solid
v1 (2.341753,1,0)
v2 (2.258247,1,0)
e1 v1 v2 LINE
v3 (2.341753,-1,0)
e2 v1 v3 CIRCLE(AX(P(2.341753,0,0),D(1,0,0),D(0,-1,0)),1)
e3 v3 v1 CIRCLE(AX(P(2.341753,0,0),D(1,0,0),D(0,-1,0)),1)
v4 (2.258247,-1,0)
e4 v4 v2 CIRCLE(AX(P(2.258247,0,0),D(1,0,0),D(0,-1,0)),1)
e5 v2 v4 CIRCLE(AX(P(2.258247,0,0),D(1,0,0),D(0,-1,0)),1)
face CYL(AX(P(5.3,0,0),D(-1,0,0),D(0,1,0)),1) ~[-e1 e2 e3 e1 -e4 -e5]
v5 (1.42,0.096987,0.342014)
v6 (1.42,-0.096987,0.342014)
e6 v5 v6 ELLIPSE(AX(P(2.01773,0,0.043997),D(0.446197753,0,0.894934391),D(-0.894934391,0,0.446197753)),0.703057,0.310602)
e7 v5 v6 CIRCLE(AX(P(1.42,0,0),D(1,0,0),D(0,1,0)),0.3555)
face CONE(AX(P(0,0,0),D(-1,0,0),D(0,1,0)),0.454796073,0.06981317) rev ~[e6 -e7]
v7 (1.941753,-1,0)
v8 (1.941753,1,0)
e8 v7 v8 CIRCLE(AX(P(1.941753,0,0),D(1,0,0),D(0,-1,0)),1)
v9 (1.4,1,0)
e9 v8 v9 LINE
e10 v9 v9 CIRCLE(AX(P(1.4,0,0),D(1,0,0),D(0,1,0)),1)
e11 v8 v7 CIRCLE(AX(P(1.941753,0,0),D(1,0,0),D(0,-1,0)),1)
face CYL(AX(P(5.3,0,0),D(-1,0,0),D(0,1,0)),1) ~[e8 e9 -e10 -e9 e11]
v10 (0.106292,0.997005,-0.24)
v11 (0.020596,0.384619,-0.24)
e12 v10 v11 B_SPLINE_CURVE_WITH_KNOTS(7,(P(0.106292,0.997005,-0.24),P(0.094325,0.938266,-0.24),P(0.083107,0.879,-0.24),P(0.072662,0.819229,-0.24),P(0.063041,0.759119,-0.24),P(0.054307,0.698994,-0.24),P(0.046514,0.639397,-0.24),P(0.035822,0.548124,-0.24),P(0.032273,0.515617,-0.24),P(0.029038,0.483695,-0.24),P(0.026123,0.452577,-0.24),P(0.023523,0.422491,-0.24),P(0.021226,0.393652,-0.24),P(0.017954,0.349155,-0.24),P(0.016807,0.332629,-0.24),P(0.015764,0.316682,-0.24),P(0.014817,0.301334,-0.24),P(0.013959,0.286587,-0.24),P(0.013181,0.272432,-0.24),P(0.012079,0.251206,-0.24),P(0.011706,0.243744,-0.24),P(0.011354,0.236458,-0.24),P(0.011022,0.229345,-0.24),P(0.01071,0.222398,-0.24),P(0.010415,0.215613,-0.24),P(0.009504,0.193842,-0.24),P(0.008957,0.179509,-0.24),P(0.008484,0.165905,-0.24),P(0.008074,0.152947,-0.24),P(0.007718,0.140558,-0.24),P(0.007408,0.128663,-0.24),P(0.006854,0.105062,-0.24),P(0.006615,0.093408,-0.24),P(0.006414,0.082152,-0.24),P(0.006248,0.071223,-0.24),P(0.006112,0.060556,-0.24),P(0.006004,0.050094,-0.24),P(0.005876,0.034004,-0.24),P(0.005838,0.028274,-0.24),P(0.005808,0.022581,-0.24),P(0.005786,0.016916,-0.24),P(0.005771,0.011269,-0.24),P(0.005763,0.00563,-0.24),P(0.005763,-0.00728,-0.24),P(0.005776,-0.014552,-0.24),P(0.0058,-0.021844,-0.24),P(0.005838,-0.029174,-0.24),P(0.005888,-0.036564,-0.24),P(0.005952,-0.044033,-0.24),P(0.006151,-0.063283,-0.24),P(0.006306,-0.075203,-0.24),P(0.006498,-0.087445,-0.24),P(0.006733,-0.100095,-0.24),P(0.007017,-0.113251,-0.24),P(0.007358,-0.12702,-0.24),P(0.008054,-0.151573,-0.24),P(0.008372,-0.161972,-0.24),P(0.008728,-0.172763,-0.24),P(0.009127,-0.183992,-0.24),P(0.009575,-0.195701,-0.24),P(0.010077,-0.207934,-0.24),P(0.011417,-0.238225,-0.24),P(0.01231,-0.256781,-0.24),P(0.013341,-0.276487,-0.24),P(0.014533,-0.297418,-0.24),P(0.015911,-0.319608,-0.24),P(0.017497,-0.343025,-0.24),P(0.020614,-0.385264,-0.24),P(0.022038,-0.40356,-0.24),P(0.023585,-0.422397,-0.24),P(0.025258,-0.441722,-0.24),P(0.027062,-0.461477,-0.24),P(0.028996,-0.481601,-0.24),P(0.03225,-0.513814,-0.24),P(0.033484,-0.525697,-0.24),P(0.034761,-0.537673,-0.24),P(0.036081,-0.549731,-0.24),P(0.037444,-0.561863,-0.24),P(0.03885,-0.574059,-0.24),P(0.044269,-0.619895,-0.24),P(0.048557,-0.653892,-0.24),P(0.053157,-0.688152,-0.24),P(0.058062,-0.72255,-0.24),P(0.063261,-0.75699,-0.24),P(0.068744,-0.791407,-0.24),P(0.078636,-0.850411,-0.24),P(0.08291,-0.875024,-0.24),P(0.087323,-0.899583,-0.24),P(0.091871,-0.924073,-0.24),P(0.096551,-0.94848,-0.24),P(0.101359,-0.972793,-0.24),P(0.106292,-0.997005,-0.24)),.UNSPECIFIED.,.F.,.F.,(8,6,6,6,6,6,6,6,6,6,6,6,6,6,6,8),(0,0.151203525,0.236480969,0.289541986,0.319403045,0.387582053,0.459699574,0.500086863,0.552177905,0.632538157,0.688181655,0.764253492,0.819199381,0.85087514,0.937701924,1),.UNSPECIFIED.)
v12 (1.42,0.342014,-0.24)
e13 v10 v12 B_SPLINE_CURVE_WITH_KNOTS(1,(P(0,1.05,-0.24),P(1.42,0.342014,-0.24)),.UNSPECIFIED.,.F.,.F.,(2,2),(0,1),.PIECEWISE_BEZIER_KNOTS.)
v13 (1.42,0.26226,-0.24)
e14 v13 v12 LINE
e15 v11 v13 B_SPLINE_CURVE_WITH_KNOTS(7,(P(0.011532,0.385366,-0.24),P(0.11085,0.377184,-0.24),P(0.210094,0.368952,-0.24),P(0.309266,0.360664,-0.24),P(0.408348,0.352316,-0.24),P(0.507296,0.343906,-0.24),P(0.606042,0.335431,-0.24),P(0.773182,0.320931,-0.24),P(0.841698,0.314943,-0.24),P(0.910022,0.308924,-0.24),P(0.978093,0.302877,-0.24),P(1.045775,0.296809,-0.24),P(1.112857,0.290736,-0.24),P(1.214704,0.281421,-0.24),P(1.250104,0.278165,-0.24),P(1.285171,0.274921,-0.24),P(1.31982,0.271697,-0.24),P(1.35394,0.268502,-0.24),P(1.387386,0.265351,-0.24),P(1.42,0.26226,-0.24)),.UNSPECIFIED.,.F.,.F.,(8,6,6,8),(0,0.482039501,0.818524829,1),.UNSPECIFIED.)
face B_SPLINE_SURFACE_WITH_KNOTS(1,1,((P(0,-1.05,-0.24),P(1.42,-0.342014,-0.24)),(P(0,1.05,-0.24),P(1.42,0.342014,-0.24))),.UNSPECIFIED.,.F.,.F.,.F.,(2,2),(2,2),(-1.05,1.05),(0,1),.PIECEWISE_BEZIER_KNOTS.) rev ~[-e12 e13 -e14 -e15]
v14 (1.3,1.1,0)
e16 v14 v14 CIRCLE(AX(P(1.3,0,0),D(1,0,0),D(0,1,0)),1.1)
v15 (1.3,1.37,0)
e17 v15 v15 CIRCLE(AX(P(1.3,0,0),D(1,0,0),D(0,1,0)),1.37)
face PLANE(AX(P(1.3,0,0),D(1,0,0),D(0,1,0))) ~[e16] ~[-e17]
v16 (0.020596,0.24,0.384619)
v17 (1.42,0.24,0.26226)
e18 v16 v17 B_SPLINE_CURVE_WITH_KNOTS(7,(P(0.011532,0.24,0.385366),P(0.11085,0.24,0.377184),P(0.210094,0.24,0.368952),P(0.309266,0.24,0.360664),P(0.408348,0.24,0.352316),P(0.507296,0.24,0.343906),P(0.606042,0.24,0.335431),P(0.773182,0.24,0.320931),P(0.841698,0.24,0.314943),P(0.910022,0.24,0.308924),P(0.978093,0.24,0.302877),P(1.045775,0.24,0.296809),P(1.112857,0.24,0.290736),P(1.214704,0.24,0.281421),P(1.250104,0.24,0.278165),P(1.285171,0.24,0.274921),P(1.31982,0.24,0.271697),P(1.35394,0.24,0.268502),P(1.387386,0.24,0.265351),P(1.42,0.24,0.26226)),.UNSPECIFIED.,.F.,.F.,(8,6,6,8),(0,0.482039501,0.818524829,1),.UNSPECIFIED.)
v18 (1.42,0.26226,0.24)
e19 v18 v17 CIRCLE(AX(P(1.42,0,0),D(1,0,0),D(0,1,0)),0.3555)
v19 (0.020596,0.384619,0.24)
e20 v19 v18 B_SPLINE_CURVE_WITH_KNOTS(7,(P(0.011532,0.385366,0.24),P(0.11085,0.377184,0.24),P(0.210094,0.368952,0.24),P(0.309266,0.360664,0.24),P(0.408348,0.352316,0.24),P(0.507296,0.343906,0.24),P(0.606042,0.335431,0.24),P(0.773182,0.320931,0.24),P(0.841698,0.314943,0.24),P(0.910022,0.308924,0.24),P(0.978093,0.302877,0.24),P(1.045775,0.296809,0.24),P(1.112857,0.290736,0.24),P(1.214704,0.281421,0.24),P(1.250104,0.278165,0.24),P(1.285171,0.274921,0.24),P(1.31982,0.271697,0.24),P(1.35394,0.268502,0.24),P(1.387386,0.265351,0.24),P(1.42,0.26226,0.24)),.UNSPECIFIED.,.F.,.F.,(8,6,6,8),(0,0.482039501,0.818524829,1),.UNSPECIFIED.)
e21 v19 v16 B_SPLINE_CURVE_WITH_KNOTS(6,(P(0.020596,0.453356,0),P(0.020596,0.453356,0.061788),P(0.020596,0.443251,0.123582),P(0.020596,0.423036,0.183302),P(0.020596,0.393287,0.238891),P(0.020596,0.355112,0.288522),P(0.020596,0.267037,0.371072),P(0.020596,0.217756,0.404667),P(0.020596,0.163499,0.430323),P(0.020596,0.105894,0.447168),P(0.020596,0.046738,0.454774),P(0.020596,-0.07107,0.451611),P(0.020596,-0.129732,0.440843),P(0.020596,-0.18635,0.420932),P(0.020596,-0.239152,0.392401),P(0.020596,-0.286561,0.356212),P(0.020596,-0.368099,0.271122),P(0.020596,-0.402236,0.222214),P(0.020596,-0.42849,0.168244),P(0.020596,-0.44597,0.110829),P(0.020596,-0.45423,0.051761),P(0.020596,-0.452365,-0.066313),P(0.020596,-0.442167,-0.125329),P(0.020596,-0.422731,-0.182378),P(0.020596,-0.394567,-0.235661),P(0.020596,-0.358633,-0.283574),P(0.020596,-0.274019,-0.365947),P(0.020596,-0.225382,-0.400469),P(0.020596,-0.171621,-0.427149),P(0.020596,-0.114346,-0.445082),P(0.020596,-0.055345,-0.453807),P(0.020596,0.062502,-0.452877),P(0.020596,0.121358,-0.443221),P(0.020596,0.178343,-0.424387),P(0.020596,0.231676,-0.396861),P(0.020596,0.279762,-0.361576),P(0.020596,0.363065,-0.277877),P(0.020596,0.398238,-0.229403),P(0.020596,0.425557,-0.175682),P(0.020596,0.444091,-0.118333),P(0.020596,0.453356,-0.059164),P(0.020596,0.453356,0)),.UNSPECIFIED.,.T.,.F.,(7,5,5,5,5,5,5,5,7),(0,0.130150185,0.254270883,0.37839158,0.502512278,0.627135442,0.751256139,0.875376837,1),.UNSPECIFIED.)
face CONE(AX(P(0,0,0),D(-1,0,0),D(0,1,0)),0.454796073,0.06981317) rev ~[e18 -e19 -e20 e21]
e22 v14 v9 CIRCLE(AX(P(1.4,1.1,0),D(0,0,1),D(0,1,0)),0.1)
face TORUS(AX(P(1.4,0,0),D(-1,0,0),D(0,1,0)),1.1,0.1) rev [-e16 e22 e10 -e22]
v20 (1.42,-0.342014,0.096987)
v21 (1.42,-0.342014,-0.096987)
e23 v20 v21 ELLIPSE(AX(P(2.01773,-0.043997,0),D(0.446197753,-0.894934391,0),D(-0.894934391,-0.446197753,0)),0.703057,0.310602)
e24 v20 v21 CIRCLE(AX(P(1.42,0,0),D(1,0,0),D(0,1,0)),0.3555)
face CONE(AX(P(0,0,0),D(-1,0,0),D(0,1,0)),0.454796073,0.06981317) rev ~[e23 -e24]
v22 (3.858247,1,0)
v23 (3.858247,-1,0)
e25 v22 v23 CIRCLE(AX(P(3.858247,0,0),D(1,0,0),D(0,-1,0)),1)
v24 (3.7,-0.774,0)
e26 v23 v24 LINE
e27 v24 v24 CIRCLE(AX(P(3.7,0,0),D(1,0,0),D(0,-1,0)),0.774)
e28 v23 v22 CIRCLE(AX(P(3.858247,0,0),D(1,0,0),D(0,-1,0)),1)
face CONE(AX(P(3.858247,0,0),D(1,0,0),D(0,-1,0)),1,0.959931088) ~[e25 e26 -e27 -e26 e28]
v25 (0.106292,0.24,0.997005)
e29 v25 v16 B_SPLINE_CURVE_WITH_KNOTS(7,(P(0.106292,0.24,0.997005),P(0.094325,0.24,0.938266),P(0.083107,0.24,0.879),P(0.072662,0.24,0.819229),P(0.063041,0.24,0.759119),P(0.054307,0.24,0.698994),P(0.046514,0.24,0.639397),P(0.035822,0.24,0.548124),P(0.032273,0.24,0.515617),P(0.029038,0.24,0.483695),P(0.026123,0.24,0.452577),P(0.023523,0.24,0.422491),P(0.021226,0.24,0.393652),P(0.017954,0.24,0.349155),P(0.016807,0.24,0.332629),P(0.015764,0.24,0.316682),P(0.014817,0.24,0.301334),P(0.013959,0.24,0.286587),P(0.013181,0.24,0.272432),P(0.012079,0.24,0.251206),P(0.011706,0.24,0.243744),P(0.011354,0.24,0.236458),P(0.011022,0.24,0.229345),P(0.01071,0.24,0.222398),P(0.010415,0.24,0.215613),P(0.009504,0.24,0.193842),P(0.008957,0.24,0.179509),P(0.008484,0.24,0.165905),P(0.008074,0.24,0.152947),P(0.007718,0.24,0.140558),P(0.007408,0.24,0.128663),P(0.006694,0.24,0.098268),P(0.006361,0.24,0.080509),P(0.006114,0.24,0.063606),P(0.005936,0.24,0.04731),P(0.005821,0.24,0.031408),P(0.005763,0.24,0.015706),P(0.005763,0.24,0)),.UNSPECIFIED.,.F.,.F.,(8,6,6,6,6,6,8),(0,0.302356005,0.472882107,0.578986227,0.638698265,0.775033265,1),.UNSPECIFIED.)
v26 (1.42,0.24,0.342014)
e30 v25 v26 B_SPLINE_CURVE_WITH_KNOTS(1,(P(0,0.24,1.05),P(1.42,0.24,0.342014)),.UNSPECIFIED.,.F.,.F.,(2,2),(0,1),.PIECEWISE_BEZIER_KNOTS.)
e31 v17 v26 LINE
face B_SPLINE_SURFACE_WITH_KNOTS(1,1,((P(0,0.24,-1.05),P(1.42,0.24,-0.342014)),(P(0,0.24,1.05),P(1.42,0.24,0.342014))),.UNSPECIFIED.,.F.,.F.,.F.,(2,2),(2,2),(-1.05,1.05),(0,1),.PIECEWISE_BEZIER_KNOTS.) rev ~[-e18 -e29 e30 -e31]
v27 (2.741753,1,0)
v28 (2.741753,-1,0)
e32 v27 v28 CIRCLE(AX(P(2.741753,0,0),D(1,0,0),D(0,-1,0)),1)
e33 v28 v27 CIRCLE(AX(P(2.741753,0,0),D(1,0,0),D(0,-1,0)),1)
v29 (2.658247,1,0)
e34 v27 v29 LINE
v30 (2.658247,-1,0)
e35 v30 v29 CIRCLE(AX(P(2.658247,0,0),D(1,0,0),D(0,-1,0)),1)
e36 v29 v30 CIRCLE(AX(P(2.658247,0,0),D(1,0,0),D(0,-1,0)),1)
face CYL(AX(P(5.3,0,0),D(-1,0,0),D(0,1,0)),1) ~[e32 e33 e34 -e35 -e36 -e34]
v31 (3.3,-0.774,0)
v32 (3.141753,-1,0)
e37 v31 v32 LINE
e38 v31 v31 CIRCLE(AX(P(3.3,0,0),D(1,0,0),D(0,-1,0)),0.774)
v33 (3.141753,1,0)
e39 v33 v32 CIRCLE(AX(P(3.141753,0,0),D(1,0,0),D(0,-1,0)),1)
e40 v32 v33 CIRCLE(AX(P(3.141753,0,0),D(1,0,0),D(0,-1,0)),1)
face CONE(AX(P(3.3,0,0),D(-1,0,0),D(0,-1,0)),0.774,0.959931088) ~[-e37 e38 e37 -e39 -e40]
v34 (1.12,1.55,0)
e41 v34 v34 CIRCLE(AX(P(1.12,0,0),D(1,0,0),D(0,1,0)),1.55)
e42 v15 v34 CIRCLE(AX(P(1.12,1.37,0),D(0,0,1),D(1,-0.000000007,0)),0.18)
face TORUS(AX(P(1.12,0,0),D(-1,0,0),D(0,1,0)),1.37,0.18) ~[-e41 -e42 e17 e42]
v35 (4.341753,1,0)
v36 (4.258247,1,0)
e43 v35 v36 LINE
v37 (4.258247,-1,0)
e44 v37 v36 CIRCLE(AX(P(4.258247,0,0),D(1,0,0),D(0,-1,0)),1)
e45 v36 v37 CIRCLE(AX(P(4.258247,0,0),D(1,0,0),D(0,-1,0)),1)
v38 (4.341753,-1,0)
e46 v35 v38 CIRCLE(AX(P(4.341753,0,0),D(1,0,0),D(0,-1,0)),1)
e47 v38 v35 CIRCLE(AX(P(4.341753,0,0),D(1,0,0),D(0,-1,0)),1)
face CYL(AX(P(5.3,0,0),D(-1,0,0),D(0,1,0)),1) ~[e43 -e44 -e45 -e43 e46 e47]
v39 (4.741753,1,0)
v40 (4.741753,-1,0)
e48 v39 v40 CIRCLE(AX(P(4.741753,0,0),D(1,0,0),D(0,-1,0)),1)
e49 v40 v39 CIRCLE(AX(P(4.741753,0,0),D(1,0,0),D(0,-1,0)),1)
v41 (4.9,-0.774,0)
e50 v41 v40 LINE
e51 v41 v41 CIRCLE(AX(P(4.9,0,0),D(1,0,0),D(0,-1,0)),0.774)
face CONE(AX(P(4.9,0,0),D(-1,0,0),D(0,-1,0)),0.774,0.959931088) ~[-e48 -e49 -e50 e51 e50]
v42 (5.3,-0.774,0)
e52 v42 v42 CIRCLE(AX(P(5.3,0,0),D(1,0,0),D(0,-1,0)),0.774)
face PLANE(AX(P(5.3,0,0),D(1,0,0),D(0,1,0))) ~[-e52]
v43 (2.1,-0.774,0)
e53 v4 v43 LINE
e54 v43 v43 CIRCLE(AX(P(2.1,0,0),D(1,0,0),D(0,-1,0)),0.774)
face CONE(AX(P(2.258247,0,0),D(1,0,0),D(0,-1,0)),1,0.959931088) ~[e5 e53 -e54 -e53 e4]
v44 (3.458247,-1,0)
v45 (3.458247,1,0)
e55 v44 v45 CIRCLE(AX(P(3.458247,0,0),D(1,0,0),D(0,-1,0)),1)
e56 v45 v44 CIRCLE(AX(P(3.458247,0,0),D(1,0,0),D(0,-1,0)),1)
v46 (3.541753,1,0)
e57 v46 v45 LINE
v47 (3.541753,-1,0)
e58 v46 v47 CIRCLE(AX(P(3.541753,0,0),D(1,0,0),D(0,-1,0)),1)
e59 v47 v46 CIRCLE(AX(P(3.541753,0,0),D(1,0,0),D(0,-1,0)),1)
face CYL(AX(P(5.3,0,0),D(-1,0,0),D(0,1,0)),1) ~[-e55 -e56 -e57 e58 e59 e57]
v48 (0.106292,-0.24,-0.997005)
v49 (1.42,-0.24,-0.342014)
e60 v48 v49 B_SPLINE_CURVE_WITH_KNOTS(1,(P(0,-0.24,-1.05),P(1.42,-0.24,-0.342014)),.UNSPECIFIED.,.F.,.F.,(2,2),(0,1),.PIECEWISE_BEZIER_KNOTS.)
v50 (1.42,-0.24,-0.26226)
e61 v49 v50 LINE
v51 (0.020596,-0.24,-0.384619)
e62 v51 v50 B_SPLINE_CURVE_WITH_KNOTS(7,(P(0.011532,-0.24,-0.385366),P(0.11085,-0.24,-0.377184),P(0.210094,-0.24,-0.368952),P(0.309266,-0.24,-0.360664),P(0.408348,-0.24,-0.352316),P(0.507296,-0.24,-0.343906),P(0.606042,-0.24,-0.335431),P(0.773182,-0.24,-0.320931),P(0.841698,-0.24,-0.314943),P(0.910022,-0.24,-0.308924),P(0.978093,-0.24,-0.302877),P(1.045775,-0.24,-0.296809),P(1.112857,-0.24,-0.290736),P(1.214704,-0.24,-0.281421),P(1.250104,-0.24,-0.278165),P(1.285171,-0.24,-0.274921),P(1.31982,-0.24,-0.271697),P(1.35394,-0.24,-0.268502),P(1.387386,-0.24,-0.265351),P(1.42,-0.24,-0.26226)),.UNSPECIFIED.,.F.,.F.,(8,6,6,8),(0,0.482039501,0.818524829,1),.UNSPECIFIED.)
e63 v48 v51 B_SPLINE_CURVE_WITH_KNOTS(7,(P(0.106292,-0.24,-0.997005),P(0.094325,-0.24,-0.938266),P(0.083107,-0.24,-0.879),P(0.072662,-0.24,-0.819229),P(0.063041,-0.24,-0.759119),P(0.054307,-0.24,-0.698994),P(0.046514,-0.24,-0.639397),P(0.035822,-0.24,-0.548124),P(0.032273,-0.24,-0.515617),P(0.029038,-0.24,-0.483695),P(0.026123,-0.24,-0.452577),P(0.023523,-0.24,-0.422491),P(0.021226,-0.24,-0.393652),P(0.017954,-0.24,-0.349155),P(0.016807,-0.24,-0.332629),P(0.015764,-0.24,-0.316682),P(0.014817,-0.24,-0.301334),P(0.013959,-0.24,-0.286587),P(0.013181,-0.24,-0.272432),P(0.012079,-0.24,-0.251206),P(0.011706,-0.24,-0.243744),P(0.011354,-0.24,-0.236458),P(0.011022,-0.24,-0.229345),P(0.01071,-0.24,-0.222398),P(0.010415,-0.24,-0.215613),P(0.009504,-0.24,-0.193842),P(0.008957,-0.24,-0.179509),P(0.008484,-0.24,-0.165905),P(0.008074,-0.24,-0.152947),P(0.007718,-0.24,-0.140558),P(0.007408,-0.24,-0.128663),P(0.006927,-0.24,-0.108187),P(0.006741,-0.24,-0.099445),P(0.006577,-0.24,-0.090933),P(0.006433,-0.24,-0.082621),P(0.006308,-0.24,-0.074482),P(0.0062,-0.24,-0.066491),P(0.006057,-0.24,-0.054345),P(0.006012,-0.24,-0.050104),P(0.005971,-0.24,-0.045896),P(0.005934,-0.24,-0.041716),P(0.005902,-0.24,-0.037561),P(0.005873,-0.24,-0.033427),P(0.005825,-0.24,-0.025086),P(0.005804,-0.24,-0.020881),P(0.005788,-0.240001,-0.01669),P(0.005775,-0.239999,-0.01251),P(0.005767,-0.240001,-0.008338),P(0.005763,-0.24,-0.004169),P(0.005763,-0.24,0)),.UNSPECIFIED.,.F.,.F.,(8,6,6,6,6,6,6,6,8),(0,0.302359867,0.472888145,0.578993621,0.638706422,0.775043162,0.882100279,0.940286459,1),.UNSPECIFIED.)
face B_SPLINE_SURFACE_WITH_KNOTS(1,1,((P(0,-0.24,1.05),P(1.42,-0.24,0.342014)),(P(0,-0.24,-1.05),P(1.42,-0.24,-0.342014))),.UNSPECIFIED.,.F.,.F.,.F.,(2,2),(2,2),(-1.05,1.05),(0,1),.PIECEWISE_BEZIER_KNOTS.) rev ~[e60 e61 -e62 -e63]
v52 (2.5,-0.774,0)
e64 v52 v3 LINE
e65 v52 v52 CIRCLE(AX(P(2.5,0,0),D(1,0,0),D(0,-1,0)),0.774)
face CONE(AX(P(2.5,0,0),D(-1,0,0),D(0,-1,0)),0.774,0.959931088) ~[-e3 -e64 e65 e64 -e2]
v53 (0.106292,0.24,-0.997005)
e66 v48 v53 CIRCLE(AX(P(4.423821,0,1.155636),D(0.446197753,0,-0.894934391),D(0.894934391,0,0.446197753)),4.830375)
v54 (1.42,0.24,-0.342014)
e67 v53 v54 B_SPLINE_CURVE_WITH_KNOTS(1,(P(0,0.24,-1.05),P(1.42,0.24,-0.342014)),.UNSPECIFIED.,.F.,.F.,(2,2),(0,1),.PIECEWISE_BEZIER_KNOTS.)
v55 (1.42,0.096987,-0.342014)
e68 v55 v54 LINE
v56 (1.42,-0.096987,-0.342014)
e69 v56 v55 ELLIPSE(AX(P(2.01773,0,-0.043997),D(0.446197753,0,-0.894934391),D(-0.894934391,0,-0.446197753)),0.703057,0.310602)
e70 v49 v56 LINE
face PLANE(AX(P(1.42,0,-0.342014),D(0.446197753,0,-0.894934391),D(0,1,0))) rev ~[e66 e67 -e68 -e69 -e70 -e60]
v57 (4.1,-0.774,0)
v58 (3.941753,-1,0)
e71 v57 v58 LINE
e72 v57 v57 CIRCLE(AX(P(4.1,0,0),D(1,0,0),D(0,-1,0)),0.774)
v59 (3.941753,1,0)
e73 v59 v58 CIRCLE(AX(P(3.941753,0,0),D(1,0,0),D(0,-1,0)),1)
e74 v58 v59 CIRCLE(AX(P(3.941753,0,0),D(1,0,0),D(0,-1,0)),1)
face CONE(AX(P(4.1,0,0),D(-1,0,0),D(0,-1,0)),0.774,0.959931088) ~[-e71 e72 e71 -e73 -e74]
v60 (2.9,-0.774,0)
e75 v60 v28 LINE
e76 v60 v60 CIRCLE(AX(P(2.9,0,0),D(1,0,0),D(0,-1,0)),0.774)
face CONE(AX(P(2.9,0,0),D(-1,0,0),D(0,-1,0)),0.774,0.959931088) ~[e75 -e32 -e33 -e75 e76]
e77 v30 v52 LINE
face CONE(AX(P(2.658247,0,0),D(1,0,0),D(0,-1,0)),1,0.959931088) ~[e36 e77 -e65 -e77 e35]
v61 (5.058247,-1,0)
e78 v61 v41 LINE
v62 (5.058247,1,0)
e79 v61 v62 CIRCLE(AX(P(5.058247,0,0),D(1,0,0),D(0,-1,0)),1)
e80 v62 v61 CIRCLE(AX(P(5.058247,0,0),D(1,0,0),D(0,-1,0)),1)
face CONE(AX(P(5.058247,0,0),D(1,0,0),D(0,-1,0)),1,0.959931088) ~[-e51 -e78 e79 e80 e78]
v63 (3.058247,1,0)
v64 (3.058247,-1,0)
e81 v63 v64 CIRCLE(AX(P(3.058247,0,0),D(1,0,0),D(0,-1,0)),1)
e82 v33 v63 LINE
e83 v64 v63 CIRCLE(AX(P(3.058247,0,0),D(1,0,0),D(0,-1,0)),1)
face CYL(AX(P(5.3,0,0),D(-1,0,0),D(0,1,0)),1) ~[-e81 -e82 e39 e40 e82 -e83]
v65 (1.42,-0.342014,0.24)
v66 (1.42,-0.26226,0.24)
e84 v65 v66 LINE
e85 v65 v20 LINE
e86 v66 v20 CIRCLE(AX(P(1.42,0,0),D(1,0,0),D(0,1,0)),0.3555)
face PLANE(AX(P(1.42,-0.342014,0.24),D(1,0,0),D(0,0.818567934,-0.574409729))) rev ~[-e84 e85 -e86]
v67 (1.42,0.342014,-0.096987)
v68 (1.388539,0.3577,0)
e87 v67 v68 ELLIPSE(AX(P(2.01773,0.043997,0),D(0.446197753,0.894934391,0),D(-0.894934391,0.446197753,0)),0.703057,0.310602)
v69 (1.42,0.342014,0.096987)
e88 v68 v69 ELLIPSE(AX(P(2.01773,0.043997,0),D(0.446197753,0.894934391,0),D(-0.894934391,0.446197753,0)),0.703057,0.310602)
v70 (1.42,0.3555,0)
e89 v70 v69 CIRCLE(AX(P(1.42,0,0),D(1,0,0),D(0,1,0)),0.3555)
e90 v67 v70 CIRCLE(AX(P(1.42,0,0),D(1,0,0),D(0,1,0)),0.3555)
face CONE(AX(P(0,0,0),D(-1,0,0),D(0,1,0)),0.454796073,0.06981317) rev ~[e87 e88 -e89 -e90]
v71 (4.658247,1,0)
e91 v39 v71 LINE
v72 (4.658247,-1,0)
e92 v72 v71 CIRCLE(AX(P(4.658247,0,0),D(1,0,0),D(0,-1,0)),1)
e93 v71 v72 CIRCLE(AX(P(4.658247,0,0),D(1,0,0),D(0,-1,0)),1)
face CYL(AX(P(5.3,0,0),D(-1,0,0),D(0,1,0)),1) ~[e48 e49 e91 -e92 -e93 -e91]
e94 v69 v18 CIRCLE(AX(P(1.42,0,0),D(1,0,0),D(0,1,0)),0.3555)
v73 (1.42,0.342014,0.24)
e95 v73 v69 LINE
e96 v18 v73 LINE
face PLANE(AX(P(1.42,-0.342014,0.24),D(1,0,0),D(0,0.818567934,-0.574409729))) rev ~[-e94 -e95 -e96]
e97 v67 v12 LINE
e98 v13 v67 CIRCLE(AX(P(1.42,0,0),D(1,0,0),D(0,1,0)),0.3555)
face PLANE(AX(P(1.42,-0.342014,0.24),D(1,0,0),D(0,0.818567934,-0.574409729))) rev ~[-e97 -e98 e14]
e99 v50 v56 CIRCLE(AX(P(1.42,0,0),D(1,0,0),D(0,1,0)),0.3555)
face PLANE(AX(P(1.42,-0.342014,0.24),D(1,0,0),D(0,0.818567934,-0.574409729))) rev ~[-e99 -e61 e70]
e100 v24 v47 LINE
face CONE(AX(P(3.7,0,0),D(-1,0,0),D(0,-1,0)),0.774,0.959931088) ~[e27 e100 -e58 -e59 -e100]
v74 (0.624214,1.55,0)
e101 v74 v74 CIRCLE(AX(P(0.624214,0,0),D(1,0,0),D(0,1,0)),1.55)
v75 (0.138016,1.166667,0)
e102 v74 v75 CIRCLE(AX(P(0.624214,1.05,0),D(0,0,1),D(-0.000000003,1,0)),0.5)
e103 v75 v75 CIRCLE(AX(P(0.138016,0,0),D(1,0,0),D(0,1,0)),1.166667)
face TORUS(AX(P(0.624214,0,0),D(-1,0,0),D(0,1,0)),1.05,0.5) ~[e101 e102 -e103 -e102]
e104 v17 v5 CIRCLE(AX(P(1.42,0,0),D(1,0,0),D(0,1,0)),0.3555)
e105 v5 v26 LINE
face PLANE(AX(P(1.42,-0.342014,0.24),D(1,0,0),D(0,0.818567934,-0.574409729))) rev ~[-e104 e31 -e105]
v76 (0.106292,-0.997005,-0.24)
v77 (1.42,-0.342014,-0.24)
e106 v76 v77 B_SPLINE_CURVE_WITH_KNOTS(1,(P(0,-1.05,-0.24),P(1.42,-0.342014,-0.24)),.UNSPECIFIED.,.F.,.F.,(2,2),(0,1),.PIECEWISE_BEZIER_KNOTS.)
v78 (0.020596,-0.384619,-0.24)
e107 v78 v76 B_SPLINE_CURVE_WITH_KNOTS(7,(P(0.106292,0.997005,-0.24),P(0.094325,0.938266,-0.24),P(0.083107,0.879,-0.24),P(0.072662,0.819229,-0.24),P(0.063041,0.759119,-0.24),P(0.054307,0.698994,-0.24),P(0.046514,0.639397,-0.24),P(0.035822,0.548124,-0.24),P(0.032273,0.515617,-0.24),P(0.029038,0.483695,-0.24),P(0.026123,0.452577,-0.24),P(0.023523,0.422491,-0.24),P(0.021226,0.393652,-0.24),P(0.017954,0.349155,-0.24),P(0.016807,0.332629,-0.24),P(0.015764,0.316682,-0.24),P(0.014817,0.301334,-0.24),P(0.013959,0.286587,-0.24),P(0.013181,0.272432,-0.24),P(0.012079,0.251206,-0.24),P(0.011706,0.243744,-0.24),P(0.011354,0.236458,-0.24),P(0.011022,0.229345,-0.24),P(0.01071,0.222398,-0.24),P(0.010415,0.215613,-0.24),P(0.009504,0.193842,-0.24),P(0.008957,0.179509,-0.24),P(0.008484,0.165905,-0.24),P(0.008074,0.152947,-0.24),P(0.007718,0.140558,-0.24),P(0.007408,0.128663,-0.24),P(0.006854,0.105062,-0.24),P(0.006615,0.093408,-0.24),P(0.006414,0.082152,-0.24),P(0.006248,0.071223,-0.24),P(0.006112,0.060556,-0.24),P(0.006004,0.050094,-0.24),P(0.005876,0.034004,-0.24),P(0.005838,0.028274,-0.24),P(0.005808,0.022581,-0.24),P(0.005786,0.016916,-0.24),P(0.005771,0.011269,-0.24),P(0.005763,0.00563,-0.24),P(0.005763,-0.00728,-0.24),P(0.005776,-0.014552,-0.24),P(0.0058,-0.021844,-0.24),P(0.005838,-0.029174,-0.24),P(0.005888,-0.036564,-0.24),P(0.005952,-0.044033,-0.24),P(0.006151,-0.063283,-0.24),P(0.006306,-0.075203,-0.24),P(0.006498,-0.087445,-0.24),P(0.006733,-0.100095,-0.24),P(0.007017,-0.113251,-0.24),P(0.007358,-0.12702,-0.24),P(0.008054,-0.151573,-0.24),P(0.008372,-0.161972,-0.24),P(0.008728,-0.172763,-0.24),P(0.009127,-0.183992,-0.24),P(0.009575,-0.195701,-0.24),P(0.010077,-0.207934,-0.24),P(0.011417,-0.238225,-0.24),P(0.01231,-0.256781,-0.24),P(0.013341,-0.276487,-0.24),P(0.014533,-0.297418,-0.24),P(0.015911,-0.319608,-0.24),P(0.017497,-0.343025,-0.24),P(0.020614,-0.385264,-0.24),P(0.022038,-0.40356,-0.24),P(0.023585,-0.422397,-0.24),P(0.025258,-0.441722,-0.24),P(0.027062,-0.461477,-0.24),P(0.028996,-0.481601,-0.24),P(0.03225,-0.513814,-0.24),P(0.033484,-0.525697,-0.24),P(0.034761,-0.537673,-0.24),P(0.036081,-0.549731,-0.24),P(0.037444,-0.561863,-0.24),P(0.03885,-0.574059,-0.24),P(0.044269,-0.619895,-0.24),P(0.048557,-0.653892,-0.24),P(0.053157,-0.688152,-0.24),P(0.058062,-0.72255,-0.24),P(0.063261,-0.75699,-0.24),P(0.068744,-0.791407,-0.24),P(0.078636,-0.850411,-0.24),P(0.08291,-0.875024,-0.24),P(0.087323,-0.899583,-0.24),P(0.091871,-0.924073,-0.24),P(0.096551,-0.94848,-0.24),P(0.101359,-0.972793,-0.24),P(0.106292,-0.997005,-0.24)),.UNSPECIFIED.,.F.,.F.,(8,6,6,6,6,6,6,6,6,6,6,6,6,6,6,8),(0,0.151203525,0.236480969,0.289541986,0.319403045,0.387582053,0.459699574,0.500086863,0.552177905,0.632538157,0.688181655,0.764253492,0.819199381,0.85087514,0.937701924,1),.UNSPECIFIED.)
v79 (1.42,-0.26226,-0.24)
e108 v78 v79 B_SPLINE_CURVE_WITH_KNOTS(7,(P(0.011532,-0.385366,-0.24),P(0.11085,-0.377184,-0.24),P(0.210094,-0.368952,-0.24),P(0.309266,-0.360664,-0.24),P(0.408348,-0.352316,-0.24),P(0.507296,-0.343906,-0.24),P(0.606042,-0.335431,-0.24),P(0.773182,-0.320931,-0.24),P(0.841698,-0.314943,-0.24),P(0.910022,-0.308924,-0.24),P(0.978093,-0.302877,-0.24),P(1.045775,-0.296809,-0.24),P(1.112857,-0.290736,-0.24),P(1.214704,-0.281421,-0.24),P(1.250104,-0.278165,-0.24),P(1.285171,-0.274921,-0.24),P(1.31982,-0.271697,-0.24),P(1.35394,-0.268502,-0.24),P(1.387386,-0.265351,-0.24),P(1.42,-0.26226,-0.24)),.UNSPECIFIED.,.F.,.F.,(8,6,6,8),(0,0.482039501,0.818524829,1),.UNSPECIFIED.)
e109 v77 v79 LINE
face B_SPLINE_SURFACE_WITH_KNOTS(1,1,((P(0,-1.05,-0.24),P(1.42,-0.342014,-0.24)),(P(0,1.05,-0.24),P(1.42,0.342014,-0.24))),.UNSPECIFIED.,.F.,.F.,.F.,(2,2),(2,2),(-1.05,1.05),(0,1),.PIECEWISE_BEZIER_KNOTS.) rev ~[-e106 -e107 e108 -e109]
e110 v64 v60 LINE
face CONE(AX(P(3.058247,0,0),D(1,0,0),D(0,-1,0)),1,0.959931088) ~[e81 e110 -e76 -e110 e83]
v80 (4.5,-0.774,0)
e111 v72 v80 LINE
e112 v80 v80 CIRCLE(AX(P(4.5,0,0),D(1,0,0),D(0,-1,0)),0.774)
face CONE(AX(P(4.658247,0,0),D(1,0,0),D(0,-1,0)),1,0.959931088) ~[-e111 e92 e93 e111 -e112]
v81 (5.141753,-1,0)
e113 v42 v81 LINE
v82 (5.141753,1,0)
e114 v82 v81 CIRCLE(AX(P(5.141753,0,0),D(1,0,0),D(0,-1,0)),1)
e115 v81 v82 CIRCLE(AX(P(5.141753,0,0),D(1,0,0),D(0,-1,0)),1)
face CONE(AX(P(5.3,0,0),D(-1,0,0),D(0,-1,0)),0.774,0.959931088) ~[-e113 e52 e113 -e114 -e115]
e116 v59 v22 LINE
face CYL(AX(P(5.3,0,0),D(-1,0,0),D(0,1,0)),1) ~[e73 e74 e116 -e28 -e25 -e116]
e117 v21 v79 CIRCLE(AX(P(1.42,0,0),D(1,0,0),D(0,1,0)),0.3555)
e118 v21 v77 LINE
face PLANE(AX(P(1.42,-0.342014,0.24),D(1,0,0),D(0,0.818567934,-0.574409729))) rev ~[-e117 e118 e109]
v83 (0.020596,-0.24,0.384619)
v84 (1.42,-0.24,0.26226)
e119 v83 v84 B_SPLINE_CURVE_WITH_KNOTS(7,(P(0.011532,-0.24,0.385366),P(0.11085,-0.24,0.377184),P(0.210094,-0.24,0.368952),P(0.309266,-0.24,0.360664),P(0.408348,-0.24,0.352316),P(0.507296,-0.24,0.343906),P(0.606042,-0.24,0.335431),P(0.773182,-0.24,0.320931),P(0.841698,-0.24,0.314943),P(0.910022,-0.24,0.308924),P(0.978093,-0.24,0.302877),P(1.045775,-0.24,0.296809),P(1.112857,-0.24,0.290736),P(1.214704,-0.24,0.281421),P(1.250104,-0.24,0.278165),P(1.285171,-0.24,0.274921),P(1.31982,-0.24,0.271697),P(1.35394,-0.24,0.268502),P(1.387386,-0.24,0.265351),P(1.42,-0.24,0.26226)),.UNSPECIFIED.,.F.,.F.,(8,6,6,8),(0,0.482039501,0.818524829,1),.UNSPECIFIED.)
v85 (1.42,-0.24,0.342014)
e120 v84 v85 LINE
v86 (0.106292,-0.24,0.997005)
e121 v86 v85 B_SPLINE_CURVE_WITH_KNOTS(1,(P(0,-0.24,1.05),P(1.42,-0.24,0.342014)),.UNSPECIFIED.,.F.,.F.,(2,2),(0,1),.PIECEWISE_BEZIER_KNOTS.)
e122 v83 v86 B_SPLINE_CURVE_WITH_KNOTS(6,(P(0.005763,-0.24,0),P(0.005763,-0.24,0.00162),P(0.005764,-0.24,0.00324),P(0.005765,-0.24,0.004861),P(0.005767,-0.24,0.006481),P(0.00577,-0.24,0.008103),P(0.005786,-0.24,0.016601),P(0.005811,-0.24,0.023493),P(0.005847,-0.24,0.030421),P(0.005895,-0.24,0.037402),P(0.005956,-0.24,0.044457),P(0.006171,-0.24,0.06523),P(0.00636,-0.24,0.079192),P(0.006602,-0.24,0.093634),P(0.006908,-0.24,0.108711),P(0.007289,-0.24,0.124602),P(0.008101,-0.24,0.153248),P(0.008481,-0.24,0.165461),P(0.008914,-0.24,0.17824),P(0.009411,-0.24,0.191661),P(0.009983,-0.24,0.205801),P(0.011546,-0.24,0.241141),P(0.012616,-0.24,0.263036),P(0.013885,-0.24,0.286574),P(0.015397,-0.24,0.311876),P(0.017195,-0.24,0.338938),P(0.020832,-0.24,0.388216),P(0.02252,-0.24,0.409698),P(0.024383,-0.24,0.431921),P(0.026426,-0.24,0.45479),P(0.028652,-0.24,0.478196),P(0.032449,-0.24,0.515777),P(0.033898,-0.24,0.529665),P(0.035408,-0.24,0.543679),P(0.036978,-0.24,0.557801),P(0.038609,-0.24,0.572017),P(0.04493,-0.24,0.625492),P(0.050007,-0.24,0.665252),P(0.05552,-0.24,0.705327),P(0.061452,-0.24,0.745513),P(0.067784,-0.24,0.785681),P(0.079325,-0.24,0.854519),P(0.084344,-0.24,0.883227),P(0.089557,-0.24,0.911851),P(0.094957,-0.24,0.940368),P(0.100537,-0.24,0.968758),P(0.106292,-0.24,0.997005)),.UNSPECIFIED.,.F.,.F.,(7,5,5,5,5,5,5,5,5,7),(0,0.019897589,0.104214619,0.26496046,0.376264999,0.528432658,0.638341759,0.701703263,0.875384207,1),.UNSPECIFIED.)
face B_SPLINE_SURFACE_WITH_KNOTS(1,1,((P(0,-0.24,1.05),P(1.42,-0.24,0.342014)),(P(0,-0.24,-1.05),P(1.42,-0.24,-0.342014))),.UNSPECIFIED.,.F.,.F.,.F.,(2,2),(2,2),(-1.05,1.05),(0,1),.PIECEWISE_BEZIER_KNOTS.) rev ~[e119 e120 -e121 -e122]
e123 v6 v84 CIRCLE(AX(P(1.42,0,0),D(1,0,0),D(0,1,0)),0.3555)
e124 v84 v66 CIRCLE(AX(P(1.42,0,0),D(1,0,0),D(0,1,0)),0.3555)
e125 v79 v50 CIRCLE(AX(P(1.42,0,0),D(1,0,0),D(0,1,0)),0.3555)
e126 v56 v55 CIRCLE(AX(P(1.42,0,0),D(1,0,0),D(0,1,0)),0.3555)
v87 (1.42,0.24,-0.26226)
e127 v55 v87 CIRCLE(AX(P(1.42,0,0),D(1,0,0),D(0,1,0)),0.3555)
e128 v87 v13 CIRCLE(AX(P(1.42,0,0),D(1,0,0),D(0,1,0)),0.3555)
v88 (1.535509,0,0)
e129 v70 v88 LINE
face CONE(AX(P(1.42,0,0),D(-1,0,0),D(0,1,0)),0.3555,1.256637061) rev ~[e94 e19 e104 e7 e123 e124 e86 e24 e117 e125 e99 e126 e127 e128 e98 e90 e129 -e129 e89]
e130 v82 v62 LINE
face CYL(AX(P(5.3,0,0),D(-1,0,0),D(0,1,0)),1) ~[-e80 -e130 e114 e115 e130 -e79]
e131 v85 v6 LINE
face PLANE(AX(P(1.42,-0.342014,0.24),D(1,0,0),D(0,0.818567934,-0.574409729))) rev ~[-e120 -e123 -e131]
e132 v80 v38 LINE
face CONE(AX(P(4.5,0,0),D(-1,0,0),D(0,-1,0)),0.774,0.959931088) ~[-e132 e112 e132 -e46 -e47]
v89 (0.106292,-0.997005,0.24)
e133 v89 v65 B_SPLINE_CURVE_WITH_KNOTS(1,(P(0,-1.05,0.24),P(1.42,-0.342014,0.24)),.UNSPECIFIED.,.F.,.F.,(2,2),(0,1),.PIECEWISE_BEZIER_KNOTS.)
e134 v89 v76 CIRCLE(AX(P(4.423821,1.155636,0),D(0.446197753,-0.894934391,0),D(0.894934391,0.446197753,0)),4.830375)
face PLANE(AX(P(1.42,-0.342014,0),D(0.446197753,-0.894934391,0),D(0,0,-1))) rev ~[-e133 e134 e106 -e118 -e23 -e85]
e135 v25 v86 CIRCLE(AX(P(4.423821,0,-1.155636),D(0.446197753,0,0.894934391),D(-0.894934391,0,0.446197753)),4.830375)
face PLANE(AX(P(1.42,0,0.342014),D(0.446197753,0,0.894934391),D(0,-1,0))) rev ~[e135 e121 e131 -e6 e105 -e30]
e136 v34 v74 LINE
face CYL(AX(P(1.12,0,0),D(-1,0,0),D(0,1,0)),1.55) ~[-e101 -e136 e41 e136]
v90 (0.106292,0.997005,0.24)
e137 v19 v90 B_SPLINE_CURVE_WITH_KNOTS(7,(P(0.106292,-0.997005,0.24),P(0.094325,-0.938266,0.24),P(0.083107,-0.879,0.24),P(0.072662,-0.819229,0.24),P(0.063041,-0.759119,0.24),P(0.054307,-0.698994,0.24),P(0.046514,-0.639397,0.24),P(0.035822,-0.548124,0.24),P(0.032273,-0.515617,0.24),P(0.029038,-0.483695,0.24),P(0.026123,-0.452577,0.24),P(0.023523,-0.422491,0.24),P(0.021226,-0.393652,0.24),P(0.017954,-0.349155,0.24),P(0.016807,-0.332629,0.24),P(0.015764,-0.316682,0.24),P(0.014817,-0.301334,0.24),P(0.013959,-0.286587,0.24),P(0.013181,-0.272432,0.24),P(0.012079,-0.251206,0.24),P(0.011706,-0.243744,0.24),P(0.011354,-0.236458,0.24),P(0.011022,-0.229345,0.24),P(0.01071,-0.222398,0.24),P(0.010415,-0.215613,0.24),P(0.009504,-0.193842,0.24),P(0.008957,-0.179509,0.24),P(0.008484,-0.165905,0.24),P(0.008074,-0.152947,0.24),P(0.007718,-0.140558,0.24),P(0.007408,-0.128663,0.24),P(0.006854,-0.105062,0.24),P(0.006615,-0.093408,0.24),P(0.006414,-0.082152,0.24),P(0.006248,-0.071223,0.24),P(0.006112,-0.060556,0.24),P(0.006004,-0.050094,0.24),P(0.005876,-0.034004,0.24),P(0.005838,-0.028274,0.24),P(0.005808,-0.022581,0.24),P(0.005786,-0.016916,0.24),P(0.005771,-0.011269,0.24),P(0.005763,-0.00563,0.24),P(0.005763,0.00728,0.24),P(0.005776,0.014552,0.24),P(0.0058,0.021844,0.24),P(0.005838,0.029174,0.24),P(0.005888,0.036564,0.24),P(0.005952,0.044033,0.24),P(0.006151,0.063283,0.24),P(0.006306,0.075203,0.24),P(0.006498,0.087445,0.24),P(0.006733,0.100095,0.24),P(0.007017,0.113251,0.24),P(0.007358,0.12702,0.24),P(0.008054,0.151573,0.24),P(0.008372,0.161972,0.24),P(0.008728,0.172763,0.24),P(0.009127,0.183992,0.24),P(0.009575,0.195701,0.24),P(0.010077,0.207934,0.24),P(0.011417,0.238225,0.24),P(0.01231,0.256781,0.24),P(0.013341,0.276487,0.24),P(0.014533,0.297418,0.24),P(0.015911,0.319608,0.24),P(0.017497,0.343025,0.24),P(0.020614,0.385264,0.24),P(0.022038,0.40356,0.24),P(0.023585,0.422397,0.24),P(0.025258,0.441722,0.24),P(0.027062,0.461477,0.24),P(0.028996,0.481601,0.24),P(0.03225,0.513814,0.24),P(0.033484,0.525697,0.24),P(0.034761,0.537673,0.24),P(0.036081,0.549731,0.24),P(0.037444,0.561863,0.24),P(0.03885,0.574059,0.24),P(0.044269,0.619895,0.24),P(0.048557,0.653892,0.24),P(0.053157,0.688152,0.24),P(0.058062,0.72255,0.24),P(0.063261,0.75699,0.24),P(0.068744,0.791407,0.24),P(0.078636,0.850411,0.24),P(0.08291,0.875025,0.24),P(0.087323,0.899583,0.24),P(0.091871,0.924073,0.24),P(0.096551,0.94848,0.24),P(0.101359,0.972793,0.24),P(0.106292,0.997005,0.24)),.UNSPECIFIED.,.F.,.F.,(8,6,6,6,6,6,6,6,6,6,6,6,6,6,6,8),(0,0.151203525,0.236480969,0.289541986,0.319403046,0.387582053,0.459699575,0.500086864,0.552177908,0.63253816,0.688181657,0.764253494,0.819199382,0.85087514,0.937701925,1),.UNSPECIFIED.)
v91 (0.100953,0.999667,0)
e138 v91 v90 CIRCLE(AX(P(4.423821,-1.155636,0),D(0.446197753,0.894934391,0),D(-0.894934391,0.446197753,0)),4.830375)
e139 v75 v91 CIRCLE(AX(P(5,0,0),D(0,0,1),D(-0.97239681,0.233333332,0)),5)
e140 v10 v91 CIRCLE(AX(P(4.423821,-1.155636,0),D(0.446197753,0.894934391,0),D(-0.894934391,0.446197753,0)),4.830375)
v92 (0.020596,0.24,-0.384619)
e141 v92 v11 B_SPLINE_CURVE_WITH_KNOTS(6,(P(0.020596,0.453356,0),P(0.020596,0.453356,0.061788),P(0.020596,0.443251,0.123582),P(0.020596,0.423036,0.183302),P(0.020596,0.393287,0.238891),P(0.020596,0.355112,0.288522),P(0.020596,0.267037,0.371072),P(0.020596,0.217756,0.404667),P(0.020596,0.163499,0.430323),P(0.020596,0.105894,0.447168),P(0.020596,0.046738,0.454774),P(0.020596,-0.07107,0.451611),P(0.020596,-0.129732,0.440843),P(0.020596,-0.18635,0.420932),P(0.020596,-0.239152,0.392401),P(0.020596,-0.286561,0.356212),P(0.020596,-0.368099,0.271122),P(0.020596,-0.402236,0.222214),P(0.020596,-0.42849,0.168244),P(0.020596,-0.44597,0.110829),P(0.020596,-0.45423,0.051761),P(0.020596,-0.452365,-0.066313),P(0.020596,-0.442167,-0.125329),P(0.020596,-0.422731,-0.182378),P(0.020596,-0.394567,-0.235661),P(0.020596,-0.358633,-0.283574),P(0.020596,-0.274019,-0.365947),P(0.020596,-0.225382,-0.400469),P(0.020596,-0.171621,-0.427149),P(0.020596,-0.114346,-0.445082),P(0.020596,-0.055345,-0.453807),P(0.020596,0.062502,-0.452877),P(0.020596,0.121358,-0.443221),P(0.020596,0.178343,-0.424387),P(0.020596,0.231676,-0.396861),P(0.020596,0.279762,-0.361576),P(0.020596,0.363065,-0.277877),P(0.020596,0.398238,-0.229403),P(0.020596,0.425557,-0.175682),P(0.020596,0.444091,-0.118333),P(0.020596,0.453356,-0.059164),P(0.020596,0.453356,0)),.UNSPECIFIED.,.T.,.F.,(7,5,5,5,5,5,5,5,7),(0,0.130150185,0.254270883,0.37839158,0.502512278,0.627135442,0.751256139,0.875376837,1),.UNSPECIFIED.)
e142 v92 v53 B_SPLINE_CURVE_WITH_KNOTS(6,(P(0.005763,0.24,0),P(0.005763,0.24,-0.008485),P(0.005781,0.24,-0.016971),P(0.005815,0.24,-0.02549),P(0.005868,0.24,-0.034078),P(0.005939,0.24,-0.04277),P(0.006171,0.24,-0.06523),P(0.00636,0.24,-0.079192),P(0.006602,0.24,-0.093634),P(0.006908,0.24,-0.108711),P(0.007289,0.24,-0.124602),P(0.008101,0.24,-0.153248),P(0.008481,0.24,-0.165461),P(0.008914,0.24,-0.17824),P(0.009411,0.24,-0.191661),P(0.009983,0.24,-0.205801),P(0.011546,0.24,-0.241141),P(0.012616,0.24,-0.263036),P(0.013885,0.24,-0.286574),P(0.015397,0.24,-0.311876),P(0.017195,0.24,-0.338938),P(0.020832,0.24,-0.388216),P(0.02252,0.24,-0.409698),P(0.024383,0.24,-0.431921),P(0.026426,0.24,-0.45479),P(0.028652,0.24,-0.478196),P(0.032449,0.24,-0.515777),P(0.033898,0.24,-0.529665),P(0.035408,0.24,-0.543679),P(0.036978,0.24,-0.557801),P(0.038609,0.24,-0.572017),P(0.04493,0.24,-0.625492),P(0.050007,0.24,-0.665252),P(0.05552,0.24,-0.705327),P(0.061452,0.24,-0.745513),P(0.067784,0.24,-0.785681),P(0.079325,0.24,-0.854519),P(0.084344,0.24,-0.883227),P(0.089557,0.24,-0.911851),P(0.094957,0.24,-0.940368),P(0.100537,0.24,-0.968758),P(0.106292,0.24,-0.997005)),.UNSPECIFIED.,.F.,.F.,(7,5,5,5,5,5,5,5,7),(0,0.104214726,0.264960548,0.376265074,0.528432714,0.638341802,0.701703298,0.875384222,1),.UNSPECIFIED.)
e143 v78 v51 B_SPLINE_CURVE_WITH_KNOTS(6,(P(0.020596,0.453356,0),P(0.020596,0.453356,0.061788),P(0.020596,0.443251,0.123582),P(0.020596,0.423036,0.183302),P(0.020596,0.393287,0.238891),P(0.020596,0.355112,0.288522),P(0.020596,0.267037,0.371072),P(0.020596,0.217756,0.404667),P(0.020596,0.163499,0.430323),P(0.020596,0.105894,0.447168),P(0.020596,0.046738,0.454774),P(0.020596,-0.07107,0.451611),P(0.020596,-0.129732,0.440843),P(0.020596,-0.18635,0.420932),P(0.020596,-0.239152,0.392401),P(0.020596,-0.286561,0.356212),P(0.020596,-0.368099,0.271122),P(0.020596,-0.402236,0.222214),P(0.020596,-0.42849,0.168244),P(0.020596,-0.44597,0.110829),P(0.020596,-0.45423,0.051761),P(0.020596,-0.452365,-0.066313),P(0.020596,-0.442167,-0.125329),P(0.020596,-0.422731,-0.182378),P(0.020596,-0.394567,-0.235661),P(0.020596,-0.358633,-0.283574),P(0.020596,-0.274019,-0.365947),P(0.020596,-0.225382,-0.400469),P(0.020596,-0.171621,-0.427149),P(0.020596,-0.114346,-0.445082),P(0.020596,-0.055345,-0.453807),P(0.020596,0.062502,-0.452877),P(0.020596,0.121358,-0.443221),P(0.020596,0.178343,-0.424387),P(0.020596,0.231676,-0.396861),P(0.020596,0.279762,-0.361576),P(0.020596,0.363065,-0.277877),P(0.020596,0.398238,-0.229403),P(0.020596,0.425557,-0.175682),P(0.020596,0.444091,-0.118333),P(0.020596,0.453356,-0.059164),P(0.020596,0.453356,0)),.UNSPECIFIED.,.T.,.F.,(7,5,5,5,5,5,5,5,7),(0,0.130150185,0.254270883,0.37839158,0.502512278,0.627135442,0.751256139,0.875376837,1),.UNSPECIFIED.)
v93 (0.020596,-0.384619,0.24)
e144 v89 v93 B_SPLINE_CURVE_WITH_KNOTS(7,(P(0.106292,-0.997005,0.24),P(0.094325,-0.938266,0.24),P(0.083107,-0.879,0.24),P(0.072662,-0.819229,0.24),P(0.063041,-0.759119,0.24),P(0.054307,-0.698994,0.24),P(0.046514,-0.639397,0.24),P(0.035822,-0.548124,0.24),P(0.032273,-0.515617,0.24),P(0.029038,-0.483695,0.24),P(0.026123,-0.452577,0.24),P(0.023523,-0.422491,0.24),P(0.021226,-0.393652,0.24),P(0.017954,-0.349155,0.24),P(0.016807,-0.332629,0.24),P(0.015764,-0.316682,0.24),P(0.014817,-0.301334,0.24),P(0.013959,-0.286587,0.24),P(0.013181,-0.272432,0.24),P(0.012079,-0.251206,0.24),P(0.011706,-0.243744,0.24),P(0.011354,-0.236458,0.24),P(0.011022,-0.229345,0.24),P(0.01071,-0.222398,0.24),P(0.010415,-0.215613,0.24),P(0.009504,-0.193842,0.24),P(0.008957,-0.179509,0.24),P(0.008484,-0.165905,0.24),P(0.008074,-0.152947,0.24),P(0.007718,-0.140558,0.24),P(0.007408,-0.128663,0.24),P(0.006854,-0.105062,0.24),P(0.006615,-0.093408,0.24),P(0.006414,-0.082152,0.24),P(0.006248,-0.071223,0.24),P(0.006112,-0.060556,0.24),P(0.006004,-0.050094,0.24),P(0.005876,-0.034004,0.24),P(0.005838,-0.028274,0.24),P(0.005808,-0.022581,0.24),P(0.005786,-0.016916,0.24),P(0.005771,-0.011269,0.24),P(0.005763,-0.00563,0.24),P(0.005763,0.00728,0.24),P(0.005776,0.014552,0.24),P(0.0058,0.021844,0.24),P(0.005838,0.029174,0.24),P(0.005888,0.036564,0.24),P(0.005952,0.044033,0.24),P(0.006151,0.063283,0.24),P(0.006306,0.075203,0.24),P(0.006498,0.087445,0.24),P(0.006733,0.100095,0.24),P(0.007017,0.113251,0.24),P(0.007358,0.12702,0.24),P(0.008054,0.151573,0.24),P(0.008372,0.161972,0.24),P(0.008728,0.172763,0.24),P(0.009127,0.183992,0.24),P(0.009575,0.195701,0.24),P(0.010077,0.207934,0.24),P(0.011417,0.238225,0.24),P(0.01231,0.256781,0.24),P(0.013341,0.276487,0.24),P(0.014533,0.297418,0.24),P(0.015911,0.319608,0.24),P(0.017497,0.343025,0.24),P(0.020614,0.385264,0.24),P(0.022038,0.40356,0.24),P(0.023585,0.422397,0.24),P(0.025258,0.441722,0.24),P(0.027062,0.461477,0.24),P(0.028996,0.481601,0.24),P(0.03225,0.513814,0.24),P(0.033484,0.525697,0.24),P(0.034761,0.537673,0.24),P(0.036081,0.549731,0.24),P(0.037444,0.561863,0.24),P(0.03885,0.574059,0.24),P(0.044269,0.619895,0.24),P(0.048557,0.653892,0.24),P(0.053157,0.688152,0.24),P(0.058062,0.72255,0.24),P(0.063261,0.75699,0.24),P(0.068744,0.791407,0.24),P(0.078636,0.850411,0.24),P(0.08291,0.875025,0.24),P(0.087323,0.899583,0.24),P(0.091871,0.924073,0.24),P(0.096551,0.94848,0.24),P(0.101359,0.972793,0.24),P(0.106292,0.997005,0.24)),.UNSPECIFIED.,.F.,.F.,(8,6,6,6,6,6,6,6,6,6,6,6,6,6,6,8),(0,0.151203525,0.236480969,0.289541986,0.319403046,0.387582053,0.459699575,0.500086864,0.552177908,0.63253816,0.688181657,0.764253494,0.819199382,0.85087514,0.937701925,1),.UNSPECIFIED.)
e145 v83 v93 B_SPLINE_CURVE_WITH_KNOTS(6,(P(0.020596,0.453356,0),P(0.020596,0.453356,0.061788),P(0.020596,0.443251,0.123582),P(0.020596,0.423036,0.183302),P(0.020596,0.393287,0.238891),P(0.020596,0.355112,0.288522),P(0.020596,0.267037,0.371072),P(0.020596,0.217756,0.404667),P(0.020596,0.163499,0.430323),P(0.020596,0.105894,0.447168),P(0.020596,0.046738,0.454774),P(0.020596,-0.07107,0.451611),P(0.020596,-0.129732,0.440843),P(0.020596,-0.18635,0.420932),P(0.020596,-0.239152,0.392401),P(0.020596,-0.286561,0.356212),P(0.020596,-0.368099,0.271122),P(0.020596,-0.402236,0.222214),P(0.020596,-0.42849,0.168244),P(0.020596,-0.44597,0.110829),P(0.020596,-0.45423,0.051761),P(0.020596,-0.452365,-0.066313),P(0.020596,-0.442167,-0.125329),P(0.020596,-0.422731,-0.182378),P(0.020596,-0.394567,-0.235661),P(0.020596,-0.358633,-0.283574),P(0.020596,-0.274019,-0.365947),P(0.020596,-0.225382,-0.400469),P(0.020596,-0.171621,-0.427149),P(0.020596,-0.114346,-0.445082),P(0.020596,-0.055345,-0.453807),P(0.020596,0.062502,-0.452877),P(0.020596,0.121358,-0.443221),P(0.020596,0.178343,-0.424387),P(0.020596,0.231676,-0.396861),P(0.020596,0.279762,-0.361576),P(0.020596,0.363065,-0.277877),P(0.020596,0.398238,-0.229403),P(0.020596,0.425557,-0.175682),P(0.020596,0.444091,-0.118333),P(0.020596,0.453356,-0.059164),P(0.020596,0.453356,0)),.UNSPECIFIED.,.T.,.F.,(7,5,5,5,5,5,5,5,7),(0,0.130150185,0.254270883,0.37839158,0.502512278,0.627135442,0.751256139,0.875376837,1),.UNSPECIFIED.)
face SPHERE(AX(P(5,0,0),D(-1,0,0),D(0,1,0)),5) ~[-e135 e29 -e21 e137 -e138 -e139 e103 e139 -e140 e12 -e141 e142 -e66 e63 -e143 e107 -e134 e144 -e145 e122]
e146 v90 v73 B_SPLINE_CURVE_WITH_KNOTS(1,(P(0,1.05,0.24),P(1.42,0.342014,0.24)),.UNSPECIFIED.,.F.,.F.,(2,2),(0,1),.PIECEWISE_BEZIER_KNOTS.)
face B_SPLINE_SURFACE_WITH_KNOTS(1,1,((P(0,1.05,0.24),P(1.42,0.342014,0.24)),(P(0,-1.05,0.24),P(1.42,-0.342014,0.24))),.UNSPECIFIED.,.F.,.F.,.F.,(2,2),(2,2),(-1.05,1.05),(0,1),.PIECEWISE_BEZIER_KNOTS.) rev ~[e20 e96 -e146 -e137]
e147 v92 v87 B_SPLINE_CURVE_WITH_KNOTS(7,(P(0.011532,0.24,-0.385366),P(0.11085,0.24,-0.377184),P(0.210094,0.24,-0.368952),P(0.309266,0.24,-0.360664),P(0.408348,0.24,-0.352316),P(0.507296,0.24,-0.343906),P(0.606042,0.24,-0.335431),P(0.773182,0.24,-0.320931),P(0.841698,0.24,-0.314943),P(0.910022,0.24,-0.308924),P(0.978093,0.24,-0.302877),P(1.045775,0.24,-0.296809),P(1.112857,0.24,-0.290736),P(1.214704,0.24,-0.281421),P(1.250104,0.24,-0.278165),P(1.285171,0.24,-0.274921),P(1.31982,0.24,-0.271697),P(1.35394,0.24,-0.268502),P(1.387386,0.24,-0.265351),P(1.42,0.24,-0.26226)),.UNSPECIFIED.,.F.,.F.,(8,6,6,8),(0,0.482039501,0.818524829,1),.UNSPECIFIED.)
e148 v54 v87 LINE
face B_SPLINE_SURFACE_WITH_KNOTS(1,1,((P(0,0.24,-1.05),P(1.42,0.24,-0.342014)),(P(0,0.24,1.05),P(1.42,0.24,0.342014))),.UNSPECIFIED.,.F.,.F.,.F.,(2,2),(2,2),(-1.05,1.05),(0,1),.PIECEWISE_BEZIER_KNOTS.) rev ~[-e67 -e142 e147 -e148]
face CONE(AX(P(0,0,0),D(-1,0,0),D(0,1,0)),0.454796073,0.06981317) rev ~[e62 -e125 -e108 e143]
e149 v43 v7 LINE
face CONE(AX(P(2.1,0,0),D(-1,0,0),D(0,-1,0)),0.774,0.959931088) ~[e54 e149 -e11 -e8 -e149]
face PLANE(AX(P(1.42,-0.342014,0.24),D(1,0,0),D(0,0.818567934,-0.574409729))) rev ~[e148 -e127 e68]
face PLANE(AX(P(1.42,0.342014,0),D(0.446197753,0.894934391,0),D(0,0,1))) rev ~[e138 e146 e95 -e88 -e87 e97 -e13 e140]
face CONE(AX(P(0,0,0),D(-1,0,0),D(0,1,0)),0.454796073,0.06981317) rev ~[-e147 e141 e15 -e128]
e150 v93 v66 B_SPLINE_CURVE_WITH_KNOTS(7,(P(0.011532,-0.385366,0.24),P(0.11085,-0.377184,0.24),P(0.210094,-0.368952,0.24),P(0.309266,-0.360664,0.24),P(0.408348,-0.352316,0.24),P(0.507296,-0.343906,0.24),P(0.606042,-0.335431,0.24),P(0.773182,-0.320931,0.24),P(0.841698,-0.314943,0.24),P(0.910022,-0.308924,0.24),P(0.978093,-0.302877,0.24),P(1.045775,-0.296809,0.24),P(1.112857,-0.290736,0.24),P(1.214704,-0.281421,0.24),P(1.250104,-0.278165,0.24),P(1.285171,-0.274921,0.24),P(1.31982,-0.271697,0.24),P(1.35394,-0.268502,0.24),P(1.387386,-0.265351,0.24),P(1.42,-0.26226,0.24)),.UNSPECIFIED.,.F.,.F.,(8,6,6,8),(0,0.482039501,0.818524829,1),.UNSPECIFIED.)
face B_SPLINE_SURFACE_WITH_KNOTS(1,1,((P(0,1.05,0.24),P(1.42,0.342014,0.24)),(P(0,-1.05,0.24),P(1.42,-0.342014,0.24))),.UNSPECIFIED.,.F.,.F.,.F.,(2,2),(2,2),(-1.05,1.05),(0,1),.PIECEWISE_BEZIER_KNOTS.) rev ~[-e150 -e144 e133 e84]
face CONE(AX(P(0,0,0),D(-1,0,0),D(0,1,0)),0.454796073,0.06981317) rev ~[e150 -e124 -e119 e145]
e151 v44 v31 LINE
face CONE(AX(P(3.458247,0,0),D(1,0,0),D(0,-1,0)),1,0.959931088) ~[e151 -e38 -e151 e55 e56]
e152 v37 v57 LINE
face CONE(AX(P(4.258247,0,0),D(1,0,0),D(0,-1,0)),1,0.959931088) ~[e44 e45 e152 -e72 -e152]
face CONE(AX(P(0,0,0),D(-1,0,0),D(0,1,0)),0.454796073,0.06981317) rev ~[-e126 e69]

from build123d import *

# Parameters (mm, degrees)
FILLET1_R       = 0.1
SKETCH3_W       = 0.48
SKETCH3_H       = 2.1
SKETCH4_W       = 0.48
SKETCH4_H       = 0.68402847
RECPAT_COUNT    = 2
RECPAT_ANGLE    = 90
THDSCHPAT_COUNT = 9
THDSCHPAT_PITCH = 0.4


with BuildPart() as part:
    # BodySke → Base-Revolve (revolve)
    with BuildSketch(Plane.XY):
        with BuildLine():
            Line((1.3, 1), (1.3, 1.37))
            ThreePointArc((1.3, 1.37), (1.247279221, 1.497279221), (1.12, 1.55))
            Line((1.12, 1.55), (0.624214356, 1.55))
            ThreePointArc((0.624214356, 1.55), (0.314644763, 1.442640633), (0.138015951, 1.166666667))
            ThreePointArc((0.138015951, 1.166666667), (0.034623869, 0.587400952), (0, 0))
            Line((0, 0), (5.3, 0))
            Line((5.3, 0), (5.3, 1))
            Line((5.3, 1), (1.3, 1))
        make_face()
    revolve(axis=Axis((-25.4, 0, 0), (1, 0, 0)))

    # Fillet1
    fillet1_edges = [part.edges().sort_by_distance(p)[0] for p in [
        (1.3, -1, 0),
    ]]
    fillet(fillet1_edges, radius=FILLET1_R)

    # Sketch3 → Recess section 0
    with BuildSketch(Plane(origin=(0, 0, 0), x_dir=(0, 0, -1), z_dir=(1, 0, 0))):
        Rectangle(SKETCH3_W, SKETCH3_H)
    # Sketch4 → Recess section 1
    with BuildSketch(Plane(origin=(1.42, 0, 0), x_dir=(0, 0, -1), z_dir=(1, 0, 0))):
        Rectangle(SKETCH4_W, SKETCH4_H)
    recess = loft(mode=Mode.SUBTRACT)

    # RecPat: Recess ×2 about axis
    recpat_axis = Axis((0, 0, 0), (1, 0, 0))
    for i in range(1, RECPAT_COUNT):
        add(recess.rotate(recpat_axis, i * RECPAT_ANGLE / (RECPAT_COUNT - 1)), mode=Mode.SUBTRACT)

    # RecCorSke → RecessCore (revolve, cut)
    with BuildSketch(Plane.XY):
        Polygon((0, 0), (0, 0.454796073), (1.42, 0.3555), (1.535508952, 0), align=None)
    revolve(axis=Axis((-3.175, 0, 0), (1, 0, 0)), mode=Mode.SUBTRACT)

    # ThdSchSke → ThreadSchematic (revolve, cut)
    with BuildSketch(Plane.XY):
        Polygon((2.1, -0.774), (1.941753096, -1), (1.941753096, -1.25), (2.258246904, -1.25), (2.258246904, -1), align=None)
    threadschematic = revolve(axis=Axis((-3.175, 0, 0), (1, 0, 0)), mode=Mode.SUBTRACT)

    # ThdSchPat: ThreadSchematic ×9
    with Locations(*[(i * THDSCHPAT_PITCH, 0, 0) for i in range(1, THDSCHPAT_COUNT)]):
        add(threadschematic, mode=Mode.SUBTRACT)


solid = part.part
